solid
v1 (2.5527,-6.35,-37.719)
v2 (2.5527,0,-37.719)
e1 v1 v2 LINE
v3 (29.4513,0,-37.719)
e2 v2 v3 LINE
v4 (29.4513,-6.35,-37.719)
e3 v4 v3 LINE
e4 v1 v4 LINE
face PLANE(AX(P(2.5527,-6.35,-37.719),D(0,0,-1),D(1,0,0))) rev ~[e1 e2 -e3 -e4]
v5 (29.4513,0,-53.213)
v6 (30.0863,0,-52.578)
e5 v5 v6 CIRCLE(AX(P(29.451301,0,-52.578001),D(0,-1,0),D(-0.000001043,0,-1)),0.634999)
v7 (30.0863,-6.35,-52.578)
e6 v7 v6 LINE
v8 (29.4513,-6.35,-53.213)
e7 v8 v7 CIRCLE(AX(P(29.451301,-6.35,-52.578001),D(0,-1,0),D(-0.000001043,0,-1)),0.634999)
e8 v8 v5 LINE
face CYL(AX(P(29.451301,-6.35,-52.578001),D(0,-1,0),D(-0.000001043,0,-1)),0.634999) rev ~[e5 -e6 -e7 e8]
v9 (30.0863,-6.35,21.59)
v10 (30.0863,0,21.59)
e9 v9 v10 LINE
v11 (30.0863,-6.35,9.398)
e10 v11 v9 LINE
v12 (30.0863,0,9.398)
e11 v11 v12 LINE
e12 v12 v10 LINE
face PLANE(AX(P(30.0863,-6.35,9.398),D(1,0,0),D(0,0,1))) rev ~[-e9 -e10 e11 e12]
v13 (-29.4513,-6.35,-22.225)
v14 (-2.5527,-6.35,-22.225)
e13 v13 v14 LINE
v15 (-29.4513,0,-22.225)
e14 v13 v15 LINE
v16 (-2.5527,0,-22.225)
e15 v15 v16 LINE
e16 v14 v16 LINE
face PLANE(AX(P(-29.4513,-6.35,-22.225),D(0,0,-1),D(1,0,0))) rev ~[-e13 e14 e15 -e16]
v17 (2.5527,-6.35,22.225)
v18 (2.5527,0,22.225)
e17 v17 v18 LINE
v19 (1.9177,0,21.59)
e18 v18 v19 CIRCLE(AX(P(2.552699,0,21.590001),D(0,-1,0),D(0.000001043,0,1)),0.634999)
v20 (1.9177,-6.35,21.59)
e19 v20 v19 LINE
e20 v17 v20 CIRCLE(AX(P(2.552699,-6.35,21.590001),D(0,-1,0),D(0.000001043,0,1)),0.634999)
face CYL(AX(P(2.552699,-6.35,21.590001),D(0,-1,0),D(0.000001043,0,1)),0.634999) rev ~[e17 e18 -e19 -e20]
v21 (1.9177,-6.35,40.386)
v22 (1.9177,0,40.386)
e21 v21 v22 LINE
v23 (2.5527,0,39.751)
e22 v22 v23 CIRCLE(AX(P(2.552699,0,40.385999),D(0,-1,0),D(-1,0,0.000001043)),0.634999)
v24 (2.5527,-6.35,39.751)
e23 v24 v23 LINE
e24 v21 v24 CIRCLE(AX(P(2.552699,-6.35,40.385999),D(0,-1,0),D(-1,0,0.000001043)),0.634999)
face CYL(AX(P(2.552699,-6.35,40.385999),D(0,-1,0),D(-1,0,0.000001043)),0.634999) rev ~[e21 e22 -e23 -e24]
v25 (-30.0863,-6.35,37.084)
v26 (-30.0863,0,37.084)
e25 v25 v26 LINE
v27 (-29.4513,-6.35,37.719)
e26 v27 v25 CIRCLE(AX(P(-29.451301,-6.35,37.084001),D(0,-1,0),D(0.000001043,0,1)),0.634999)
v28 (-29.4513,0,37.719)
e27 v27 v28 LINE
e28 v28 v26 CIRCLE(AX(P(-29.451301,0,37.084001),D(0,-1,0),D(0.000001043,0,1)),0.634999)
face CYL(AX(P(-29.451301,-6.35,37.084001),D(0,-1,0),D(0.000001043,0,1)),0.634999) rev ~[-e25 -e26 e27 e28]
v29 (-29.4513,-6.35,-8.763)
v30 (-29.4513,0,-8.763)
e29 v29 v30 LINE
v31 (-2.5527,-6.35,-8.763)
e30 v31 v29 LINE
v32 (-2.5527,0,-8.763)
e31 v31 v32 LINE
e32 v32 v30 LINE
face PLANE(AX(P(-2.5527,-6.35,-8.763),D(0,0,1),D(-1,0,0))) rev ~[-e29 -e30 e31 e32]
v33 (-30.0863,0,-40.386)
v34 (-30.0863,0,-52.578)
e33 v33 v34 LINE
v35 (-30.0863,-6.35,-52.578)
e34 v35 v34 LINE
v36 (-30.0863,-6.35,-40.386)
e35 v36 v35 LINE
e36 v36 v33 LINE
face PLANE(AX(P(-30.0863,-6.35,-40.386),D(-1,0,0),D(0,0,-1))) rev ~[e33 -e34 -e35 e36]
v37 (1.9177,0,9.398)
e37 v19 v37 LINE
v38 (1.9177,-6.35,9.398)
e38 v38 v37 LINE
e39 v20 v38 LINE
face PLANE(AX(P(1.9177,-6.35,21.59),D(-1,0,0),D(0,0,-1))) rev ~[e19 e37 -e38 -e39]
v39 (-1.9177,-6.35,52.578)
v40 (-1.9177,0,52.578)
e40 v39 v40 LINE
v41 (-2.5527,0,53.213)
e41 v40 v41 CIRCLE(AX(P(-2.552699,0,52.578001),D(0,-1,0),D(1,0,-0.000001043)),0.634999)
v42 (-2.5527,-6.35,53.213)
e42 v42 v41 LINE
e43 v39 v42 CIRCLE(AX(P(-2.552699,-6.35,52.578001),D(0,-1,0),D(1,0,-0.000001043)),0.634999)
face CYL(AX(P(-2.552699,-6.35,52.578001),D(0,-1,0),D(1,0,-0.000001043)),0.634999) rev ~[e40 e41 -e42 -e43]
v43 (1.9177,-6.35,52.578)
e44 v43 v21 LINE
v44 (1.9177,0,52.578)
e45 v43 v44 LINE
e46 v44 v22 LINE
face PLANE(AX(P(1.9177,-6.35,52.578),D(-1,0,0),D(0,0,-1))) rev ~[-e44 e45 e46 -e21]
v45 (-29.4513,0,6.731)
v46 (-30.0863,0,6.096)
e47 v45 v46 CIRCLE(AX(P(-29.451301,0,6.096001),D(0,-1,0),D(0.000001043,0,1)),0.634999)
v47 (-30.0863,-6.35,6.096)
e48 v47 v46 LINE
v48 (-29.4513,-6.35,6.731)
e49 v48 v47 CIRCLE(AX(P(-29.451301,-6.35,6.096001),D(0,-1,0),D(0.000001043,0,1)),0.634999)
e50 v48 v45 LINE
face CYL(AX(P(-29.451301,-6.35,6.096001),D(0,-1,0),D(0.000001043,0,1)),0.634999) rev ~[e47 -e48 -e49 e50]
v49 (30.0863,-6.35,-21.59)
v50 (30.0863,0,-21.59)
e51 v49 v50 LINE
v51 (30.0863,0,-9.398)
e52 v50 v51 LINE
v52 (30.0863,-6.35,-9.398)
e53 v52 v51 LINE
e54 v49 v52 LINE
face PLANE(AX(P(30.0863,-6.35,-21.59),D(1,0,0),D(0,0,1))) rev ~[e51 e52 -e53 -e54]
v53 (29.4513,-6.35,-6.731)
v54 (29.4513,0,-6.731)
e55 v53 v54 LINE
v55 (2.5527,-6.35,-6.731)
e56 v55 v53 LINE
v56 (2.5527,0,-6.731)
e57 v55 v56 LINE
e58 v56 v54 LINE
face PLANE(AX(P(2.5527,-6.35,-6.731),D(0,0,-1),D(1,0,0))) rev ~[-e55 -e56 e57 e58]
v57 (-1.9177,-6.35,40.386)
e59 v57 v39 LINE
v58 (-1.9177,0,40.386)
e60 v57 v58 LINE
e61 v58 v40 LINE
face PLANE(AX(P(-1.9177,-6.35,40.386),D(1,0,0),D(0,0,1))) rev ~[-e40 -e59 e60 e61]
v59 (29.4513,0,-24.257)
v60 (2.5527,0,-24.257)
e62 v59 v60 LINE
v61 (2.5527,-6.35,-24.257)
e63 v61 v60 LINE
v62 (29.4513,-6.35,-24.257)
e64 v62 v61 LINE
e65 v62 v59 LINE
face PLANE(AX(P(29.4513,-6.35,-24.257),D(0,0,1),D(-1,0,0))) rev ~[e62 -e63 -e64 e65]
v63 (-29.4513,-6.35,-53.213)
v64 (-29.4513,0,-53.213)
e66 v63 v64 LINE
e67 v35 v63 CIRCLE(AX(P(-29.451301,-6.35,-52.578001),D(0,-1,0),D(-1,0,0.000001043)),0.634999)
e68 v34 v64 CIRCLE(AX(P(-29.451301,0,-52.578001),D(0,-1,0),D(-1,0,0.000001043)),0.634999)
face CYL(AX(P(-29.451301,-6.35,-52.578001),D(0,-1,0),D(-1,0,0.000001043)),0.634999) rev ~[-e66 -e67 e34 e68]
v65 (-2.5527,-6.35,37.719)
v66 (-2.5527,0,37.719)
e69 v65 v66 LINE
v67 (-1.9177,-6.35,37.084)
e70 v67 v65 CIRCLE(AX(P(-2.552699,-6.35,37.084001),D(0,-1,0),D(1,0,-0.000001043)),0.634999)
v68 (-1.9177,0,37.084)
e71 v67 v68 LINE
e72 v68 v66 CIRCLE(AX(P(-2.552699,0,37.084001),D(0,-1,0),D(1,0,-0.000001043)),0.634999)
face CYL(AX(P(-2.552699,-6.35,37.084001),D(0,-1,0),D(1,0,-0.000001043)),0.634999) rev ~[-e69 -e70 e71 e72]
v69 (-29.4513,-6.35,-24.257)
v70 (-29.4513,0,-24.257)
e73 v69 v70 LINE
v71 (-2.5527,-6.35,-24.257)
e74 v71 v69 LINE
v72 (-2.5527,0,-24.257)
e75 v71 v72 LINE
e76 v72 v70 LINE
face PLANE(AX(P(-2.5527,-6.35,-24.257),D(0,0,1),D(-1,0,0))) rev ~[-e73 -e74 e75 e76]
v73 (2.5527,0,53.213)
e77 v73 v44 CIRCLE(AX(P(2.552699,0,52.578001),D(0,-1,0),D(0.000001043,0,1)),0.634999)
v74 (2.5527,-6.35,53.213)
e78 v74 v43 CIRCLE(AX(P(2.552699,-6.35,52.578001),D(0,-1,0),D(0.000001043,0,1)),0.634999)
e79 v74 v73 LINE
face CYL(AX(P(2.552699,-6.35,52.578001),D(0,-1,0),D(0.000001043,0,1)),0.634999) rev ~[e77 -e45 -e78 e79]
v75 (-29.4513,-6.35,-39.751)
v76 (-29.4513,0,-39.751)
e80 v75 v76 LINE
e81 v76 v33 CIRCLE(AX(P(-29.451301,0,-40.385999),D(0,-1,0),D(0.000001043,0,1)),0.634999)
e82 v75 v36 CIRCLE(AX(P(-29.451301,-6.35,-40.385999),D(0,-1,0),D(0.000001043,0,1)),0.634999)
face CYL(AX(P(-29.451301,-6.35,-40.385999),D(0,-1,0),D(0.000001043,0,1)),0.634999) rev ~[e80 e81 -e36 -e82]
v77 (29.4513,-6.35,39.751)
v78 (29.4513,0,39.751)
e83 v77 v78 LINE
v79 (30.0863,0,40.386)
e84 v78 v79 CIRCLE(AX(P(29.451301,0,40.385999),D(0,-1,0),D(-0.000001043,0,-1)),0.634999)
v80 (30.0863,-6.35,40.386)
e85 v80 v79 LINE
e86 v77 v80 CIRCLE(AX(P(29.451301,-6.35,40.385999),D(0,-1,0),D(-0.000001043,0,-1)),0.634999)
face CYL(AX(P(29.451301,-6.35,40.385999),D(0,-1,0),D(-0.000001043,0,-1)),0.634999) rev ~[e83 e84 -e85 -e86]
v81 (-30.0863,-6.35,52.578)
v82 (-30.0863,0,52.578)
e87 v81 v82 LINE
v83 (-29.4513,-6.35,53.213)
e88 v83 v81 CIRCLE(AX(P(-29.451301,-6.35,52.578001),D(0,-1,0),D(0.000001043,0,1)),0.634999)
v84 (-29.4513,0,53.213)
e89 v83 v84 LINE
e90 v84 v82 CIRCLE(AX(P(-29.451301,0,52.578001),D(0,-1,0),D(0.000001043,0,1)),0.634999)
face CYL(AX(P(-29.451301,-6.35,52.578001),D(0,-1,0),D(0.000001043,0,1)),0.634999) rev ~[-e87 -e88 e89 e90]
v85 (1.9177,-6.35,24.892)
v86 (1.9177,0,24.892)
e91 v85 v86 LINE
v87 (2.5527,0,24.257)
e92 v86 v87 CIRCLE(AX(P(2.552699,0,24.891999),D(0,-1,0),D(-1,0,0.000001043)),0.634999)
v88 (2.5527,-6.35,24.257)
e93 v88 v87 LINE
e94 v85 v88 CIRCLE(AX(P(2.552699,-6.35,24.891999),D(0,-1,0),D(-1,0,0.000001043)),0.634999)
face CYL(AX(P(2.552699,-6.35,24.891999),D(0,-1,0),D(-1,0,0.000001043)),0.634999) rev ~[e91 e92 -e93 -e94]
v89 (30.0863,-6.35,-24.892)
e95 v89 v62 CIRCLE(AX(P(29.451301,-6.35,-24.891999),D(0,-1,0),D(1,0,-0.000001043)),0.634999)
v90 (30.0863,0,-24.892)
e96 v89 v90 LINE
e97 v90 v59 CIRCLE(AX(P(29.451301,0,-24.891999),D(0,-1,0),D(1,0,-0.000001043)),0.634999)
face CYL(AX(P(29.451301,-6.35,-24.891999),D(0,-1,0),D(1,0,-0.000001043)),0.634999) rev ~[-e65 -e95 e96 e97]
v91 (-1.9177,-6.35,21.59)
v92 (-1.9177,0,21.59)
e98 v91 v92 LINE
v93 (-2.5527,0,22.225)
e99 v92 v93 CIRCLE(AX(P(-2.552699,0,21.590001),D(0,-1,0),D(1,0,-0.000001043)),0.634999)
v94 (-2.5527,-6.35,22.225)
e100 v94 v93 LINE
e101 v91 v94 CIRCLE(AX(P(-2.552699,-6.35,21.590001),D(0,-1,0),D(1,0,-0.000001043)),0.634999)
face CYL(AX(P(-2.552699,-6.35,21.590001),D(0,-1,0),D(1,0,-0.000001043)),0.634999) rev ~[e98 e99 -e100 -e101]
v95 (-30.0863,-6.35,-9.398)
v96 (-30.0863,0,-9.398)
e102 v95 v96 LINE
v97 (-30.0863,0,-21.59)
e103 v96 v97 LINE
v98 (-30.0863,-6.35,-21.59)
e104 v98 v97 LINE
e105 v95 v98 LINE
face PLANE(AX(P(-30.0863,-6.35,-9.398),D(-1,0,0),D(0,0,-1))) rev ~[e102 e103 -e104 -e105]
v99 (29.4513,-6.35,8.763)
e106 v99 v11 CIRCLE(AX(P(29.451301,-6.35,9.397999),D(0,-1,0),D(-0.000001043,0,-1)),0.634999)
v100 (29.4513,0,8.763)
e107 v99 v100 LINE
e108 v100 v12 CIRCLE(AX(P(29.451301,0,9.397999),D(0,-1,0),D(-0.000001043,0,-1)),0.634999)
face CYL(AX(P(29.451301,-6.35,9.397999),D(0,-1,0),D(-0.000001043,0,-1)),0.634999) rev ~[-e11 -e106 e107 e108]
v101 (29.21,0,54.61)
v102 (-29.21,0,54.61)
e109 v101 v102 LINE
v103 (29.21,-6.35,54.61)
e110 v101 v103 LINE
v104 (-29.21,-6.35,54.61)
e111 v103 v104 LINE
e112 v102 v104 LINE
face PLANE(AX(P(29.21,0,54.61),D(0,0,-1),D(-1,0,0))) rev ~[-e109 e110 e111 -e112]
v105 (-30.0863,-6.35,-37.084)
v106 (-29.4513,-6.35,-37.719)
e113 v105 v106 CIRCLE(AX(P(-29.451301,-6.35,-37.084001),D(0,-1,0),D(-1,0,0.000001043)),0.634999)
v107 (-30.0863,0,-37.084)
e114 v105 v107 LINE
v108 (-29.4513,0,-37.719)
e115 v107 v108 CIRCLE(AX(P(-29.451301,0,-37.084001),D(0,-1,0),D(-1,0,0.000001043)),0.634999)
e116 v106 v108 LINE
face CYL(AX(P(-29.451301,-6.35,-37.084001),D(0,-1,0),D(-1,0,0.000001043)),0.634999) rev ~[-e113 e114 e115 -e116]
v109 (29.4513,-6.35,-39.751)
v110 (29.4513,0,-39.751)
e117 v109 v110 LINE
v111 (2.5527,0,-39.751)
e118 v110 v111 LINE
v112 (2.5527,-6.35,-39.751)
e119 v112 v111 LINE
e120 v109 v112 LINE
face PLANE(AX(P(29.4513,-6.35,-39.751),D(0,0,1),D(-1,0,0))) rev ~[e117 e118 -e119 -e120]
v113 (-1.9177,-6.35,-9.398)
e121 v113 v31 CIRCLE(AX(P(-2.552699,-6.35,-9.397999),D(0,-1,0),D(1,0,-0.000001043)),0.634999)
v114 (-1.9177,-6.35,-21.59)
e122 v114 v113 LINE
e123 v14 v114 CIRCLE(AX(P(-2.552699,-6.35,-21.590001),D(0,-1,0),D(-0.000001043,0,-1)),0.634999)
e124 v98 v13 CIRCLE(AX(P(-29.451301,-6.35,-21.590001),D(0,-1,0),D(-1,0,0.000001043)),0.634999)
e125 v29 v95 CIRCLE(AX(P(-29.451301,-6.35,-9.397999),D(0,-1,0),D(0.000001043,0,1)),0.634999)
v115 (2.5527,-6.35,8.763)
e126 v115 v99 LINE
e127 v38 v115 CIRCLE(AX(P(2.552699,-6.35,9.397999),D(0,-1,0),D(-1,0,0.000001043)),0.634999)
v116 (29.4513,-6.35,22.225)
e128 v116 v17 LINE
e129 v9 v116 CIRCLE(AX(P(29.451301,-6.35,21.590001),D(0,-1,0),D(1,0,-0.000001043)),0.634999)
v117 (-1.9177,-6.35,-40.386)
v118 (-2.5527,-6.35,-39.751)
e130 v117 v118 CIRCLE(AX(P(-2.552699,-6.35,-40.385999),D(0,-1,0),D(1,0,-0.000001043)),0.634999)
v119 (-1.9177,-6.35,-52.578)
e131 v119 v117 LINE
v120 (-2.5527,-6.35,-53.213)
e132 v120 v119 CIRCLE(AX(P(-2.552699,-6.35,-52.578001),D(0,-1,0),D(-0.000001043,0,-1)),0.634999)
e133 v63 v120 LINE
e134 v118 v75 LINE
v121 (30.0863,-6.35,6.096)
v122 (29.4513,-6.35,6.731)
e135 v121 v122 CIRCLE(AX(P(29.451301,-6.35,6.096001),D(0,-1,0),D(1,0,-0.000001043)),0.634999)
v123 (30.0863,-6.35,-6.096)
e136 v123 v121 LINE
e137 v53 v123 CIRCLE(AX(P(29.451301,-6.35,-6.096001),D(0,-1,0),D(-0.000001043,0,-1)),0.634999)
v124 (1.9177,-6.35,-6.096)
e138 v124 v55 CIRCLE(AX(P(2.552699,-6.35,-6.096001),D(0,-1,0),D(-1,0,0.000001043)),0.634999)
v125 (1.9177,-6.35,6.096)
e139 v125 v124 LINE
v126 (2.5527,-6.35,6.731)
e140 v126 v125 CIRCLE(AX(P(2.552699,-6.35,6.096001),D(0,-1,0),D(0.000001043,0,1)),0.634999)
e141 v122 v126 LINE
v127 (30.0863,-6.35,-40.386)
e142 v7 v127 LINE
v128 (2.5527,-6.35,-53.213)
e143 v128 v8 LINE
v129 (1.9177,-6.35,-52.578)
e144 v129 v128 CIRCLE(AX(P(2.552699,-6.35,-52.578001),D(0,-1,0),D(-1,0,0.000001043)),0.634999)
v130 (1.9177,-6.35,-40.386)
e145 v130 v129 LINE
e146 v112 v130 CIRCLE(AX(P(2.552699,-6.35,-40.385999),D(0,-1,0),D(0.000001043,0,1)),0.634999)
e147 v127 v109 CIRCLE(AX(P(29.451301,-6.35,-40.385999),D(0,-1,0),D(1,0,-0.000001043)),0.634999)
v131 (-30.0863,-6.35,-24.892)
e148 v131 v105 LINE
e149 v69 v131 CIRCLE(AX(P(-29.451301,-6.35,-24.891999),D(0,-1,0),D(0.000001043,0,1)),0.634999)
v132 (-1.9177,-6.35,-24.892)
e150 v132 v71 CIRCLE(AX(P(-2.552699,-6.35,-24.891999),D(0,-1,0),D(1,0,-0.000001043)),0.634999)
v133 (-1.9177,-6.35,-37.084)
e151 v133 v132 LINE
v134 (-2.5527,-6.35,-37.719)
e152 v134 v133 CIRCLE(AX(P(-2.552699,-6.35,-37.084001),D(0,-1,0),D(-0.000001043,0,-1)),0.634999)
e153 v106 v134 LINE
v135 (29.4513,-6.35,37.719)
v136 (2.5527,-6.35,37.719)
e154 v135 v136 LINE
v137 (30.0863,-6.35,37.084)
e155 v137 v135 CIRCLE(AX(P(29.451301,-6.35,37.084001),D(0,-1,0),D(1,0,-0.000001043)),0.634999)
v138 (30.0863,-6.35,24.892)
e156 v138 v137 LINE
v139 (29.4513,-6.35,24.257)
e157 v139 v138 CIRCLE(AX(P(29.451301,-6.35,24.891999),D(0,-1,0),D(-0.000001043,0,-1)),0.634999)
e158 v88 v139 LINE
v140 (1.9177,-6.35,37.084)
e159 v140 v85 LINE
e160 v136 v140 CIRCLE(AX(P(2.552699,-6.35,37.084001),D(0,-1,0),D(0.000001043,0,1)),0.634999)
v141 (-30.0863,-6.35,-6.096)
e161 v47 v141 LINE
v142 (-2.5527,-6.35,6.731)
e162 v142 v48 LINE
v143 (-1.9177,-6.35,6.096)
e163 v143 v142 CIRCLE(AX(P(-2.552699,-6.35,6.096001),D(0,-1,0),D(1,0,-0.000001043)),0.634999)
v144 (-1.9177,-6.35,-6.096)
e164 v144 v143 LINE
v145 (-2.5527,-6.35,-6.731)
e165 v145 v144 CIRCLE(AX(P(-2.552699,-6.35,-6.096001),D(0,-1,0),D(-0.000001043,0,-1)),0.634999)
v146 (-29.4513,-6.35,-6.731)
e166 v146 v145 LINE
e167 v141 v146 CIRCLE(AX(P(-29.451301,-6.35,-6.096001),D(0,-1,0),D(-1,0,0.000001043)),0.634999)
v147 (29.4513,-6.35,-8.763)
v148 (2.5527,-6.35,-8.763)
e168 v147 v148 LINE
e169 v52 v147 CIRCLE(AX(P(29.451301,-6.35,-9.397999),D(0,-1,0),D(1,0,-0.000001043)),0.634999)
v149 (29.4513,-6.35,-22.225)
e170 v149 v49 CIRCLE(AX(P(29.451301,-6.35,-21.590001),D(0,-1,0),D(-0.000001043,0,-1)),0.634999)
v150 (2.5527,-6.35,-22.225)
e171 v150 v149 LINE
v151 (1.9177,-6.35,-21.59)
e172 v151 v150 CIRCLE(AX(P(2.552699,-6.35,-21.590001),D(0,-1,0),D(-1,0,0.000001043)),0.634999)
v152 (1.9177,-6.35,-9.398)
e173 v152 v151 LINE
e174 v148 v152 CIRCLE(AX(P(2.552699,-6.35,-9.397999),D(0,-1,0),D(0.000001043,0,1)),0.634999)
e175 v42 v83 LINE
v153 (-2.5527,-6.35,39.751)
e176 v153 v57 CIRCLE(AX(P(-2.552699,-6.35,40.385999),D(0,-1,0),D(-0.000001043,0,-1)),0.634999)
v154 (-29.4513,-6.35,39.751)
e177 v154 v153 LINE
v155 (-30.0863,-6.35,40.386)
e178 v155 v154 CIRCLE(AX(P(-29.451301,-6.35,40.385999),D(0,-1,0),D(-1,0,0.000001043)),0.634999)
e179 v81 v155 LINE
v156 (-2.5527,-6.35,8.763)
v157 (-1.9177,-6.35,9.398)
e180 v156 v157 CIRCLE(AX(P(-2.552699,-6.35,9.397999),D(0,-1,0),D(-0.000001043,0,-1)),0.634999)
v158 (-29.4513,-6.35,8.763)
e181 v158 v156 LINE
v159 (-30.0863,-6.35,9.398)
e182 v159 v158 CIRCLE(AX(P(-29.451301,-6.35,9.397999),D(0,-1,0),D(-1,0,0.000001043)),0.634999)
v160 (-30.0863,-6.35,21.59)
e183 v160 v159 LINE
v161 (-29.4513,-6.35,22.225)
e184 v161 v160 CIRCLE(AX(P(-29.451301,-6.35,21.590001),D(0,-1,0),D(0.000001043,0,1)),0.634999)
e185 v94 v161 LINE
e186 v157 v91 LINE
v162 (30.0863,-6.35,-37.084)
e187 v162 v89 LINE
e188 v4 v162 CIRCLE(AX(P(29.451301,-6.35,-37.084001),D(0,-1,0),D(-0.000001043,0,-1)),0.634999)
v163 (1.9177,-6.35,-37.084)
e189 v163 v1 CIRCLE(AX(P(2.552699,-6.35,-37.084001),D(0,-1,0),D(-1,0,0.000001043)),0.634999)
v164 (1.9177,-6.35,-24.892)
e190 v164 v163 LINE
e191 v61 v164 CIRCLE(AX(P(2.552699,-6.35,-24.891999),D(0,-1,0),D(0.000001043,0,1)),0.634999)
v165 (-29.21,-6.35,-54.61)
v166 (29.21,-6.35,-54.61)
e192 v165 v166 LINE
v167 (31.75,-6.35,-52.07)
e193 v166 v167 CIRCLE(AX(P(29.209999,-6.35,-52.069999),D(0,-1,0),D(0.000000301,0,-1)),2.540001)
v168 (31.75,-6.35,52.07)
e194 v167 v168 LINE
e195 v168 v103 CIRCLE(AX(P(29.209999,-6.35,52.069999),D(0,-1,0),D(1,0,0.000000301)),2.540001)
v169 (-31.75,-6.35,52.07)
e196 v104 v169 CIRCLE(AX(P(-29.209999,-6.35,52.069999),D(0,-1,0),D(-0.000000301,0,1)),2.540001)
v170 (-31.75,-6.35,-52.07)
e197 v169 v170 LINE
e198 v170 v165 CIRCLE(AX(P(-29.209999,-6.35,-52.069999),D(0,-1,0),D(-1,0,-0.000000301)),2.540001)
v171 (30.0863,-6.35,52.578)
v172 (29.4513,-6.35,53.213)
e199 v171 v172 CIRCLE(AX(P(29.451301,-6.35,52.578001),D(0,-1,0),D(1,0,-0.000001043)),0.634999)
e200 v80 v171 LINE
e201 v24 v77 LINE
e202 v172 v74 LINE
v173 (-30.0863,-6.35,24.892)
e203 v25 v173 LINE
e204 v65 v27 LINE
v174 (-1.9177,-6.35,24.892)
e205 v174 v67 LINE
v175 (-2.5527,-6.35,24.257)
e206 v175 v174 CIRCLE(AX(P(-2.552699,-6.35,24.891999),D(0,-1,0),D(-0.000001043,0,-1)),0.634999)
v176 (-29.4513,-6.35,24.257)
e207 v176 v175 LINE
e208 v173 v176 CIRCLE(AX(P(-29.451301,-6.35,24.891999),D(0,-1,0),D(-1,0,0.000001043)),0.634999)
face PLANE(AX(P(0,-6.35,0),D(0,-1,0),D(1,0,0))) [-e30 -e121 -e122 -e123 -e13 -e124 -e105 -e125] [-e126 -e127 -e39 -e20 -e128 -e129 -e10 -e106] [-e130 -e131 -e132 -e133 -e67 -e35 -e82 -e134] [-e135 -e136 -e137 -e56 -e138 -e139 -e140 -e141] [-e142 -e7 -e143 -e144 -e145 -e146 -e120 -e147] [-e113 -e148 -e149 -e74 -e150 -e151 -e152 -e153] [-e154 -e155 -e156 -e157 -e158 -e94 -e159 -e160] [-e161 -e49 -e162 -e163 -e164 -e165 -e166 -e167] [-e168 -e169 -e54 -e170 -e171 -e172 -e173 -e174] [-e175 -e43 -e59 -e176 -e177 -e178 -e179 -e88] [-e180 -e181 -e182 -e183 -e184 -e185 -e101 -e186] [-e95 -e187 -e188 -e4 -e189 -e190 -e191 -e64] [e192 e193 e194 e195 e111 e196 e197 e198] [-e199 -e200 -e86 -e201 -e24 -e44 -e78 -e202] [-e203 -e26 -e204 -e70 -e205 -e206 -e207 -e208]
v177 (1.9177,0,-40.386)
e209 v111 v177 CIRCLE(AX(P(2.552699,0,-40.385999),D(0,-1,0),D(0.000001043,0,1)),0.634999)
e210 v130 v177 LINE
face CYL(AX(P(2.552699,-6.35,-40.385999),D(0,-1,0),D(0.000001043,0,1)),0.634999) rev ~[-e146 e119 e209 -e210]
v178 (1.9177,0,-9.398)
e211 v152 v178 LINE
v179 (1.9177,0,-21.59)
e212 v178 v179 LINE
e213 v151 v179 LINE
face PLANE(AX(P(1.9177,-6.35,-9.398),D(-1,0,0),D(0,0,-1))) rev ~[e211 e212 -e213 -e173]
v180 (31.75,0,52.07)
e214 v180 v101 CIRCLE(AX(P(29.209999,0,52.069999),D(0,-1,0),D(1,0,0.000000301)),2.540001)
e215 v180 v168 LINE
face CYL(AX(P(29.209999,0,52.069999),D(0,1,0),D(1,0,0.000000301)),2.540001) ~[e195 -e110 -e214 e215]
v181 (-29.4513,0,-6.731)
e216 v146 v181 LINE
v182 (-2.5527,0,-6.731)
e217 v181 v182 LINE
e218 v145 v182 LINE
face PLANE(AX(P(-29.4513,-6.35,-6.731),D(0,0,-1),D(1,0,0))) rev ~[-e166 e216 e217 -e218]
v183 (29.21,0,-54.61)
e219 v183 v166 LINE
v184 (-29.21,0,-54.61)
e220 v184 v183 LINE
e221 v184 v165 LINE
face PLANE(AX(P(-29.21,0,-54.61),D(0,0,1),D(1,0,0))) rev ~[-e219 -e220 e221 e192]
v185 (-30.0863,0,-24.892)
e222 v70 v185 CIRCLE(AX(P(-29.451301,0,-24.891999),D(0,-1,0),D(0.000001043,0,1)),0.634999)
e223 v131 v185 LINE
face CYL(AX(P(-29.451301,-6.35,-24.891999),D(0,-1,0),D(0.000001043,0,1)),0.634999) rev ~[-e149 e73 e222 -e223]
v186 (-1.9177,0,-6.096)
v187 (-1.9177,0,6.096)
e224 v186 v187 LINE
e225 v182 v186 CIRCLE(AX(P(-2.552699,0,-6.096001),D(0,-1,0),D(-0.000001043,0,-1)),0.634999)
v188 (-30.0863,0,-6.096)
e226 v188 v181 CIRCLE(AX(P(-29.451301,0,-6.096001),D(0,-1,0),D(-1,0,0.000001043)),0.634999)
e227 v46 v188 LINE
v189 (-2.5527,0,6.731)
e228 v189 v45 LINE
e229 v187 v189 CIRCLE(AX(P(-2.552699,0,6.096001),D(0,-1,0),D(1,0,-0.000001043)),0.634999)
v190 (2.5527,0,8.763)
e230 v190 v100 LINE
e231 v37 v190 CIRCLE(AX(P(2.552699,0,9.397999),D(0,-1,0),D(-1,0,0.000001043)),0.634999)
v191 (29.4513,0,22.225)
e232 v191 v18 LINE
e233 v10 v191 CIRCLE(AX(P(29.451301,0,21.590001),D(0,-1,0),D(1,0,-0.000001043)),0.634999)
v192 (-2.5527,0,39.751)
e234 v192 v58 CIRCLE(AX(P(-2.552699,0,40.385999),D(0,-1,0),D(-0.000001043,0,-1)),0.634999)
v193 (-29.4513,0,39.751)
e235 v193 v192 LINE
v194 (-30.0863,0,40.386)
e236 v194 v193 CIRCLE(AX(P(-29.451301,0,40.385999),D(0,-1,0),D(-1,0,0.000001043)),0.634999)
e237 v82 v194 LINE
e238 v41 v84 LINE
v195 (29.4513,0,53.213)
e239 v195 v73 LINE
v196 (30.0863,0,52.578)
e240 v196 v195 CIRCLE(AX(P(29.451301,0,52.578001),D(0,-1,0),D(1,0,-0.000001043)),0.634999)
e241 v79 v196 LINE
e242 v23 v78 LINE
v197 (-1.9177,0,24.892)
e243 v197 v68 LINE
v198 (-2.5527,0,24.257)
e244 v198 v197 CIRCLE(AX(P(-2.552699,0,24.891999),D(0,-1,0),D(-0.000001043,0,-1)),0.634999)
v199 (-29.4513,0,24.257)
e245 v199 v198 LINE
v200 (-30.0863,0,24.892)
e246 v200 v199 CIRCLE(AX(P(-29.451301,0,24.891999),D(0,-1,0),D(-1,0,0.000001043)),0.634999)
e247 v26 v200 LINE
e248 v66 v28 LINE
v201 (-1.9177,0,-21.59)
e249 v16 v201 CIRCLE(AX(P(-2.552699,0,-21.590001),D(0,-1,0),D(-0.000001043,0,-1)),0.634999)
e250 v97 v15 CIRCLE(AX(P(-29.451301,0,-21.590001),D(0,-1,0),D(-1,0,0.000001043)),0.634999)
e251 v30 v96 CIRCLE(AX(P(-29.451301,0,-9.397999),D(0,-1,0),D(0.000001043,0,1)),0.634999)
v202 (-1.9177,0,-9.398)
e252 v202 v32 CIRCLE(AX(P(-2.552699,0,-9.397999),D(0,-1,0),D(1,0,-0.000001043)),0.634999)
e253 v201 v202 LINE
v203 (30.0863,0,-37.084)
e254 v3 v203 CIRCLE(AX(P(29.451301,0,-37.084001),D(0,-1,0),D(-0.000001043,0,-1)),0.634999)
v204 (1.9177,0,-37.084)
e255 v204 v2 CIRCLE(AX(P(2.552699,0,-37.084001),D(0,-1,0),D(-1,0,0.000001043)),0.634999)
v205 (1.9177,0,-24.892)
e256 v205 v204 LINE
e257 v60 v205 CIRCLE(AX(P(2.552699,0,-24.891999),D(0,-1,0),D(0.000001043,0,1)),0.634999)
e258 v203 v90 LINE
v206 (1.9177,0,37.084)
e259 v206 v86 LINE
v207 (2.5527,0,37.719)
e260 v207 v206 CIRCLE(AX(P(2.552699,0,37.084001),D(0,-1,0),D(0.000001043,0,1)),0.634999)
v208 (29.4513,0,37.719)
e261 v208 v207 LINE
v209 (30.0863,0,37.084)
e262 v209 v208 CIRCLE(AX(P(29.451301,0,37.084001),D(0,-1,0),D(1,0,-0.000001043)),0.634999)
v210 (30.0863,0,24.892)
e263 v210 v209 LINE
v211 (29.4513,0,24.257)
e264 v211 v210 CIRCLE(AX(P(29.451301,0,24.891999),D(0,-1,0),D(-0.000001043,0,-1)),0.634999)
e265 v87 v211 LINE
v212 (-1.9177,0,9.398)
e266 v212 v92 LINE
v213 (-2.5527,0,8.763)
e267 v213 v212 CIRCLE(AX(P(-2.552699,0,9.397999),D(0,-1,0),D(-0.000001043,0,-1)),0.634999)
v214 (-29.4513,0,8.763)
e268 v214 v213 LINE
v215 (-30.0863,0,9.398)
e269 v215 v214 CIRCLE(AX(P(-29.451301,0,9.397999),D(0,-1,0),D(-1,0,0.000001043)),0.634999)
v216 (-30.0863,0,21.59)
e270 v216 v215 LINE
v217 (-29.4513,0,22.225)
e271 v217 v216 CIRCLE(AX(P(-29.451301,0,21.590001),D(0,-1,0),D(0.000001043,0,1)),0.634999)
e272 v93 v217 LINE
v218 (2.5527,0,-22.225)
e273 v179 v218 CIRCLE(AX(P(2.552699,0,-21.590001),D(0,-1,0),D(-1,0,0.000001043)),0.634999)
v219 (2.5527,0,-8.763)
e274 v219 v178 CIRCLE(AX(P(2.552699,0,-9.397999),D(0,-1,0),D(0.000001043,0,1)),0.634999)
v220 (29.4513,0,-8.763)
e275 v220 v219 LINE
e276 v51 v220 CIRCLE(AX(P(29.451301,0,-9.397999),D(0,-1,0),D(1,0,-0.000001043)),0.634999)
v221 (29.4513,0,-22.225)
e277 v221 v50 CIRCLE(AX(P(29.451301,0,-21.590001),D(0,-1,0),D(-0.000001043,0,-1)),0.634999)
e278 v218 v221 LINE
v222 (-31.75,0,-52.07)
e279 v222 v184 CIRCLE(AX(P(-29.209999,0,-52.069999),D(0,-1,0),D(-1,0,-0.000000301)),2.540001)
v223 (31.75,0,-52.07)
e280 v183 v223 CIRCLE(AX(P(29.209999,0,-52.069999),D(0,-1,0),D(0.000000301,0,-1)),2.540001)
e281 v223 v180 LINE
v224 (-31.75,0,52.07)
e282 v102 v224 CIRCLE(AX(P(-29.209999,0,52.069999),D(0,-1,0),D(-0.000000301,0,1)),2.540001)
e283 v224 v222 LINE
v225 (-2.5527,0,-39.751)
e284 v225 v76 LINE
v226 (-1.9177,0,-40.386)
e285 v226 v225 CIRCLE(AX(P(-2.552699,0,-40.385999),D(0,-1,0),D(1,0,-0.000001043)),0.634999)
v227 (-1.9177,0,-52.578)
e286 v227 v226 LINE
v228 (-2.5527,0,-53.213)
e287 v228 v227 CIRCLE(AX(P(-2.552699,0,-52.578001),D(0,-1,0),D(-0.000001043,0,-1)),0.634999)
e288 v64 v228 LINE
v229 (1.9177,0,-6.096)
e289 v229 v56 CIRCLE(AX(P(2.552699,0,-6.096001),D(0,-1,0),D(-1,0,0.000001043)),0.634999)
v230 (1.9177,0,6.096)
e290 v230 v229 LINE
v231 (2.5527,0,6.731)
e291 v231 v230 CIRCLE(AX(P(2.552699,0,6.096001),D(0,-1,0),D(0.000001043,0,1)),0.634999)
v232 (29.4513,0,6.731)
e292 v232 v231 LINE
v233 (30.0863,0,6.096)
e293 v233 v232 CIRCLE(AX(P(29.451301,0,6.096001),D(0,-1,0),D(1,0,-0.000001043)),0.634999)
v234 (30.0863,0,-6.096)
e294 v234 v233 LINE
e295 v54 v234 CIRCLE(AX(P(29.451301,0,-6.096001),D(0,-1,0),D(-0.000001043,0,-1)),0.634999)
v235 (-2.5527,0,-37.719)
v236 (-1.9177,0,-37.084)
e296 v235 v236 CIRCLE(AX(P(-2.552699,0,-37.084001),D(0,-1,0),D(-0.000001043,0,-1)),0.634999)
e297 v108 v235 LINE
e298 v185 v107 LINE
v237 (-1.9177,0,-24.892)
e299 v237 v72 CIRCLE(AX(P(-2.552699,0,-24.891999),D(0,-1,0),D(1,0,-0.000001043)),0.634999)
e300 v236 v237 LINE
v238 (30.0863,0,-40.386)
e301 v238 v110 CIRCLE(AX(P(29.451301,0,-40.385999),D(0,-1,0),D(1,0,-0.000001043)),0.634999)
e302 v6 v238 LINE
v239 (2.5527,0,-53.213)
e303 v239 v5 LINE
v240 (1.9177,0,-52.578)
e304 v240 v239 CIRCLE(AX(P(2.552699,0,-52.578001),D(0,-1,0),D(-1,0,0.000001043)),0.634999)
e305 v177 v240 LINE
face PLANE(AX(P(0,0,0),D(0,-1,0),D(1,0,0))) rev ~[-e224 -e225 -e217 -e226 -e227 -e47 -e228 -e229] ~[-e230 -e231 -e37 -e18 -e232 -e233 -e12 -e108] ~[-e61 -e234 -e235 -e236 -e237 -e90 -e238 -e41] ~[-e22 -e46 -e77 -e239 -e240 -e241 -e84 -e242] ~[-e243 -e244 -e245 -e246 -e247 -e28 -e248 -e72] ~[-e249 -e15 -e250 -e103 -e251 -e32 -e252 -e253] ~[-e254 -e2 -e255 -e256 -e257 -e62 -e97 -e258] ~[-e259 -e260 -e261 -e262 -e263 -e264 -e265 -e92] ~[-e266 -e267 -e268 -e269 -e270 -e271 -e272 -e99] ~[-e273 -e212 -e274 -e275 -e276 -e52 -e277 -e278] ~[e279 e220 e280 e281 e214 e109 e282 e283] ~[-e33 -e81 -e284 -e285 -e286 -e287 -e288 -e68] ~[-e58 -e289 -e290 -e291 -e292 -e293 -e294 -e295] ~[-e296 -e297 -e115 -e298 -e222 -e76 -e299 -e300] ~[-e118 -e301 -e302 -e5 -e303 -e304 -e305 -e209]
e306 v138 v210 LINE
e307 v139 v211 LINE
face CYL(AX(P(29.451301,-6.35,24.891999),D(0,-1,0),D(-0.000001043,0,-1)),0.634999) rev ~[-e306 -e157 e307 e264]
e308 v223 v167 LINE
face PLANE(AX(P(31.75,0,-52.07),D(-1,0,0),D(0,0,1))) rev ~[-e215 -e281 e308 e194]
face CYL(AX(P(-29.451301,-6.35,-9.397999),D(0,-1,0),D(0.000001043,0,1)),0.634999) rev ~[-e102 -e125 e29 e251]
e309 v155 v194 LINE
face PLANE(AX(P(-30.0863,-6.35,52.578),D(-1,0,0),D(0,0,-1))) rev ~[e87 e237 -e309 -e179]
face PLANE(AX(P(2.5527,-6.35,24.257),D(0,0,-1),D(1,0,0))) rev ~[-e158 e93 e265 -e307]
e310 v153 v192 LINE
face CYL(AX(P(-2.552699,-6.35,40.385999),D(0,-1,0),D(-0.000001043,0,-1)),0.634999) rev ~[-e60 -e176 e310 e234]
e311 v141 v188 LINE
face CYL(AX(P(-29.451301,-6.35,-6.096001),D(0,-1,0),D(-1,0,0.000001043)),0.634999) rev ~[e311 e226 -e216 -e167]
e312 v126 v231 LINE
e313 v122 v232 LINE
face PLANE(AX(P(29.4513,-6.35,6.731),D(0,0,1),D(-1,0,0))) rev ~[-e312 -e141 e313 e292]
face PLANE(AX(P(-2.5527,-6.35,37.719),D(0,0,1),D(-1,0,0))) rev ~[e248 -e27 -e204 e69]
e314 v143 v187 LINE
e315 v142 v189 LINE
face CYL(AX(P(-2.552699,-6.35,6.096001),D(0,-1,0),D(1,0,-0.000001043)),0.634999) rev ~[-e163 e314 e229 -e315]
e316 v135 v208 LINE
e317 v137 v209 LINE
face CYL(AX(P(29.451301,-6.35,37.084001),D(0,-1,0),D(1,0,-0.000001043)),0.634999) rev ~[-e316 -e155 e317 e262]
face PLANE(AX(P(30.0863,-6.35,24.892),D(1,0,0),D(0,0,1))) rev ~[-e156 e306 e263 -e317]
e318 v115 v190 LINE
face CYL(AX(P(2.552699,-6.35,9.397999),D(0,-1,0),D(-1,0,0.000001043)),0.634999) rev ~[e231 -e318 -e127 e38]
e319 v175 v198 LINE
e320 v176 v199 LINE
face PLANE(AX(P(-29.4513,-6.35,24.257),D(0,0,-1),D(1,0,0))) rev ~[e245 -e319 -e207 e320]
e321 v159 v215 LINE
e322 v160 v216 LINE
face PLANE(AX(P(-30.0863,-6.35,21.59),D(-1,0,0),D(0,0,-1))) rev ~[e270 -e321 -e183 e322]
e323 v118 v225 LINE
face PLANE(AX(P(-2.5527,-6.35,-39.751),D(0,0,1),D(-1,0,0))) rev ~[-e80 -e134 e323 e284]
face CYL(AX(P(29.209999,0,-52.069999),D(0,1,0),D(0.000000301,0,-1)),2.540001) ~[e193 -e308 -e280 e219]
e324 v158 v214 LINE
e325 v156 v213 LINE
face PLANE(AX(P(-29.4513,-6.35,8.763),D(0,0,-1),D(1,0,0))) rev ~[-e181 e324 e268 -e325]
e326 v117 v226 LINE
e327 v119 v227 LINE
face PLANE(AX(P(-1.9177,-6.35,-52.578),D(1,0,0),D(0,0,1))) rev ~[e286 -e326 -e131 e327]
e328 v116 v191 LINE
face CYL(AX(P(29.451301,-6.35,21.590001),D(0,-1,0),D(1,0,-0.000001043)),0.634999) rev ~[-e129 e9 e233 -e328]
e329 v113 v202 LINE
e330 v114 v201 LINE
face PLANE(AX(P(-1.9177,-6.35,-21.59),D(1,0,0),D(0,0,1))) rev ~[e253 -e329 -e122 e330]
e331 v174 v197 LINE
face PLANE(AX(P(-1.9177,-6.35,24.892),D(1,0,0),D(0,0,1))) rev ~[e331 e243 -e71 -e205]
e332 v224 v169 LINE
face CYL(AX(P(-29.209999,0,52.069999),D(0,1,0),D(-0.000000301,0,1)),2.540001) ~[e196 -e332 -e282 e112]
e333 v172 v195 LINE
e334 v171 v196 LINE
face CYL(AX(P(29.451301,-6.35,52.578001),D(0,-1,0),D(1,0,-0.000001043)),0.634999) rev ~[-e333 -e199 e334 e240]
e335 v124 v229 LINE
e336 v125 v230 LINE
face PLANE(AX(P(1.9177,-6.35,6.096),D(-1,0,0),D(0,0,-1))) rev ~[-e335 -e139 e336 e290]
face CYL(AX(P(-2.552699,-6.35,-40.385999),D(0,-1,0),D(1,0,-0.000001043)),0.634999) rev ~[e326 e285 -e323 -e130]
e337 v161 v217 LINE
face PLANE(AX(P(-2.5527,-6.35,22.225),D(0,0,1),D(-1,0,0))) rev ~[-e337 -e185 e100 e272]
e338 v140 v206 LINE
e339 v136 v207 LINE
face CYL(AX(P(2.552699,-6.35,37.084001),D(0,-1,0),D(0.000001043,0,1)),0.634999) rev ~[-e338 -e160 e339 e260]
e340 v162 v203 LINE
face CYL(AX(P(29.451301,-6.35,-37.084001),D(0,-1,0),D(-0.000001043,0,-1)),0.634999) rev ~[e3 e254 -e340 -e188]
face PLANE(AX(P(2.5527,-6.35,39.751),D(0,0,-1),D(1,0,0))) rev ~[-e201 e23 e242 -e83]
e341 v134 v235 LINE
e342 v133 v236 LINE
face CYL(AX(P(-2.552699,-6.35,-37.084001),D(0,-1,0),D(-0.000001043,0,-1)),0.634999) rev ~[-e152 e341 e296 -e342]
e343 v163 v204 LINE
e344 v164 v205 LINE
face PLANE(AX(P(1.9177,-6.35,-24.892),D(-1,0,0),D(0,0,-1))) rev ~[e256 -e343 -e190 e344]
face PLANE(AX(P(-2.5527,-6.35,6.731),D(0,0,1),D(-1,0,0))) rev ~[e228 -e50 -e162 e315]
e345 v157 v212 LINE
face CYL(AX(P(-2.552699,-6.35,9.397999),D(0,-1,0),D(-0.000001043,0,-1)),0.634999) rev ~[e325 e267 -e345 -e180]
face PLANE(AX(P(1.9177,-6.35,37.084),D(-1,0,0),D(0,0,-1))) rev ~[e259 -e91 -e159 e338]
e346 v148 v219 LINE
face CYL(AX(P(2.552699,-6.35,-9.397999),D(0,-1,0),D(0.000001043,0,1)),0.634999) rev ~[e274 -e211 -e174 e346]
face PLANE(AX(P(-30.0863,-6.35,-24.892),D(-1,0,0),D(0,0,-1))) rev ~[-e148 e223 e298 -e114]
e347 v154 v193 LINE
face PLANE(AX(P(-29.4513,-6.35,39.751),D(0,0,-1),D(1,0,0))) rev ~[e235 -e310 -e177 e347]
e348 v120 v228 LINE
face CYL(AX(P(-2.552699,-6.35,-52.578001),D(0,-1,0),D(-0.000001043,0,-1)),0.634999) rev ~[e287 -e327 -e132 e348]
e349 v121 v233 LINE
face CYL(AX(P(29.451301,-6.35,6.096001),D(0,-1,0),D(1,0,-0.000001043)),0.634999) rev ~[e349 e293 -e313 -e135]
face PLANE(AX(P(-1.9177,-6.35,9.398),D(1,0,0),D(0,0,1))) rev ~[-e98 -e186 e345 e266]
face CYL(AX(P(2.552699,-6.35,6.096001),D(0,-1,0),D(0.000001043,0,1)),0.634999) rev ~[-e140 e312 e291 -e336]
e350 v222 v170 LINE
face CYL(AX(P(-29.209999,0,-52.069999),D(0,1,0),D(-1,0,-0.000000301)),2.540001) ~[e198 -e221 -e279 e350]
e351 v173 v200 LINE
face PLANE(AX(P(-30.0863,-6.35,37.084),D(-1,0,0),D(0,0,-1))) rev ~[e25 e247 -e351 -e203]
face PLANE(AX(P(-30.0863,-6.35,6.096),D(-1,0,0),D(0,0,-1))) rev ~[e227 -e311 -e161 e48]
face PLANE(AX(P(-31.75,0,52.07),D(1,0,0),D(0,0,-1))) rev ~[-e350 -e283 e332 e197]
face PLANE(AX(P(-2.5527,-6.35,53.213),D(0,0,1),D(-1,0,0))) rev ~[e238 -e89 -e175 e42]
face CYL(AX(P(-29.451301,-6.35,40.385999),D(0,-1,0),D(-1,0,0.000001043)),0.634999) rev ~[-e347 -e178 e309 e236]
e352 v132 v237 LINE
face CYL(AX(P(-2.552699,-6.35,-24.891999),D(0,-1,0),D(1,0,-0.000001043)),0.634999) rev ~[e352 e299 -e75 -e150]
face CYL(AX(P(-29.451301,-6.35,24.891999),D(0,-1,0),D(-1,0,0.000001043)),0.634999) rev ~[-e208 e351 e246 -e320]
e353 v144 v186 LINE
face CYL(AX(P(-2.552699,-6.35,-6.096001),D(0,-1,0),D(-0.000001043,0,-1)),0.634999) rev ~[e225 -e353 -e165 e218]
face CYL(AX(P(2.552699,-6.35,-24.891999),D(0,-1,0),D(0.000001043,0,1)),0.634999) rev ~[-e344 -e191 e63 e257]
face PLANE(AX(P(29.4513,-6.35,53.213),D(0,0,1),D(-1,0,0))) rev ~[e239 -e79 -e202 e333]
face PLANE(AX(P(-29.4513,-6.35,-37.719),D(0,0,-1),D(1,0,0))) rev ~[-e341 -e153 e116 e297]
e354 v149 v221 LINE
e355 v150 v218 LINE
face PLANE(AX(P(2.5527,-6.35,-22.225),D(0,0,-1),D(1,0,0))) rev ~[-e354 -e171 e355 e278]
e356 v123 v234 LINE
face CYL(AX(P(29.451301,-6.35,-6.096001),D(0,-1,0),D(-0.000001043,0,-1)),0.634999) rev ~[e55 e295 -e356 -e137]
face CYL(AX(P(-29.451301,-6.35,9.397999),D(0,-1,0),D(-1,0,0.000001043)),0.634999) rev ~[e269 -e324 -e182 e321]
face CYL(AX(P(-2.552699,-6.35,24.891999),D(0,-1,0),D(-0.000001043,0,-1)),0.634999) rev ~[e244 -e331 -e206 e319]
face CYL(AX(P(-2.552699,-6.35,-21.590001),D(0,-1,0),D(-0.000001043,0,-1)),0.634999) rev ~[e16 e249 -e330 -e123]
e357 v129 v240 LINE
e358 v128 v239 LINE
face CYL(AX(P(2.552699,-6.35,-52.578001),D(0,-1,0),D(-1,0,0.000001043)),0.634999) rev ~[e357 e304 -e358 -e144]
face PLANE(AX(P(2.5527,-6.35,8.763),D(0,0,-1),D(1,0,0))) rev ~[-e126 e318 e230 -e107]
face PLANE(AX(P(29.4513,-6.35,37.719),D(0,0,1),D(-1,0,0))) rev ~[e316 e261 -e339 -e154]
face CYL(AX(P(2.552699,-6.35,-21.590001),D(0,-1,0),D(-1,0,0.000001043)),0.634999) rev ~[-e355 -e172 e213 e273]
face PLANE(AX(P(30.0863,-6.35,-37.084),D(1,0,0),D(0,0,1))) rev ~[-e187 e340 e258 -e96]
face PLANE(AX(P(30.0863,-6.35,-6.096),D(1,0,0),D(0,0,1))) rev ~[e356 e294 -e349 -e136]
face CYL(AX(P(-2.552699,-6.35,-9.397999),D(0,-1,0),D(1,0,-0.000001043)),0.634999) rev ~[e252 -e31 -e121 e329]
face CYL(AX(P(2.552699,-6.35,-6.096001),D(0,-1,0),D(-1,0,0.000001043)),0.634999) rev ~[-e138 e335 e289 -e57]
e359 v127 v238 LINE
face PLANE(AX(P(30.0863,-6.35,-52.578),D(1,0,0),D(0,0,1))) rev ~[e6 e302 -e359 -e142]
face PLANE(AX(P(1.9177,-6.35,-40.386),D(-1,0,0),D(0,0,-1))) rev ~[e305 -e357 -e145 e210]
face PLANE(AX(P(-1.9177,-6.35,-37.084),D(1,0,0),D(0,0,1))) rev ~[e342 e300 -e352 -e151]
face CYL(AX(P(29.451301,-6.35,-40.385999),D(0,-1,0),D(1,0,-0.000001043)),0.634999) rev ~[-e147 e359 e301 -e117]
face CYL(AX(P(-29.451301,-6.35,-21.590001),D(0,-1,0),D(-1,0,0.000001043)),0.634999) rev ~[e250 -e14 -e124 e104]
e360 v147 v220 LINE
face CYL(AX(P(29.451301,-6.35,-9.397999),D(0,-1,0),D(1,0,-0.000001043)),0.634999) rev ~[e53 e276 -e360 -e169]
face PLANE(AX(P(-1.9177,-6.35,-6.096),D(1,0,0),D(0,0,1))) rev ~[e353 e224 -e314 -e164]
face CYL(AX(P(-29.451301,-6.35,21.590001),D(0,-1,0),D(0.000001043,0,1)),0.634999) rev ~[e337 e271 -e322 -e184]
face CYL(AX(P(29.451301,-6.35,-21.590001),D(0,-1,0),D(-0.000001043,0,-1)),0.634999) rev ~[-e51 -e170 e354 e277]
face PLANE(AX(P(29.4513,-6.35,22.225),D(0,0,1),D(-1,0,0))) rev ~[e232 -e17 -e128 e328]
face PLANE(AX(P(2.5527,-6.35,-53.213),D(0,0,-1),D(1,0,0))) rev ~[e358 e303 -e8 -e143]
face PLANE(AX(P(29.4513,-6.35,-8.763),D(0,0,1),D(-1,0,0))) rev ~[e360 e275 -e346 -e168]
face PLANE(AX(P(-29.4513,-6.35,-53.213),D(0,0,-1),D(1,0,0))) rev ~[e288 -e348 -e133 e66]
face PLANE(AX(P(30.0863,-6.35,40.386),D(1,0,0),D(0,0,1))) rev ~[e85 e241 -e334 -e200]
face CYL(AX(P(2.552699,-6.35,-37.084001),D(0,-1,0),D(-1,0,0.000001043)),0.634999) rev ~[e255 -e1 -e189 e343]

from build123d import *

# Parameters (mm, degrees)
F1_DEPTH = 6.35
F3_DEPTH = 6.351


with BuildPart() as f1:
    # F0 (on Front) → F1 (new body)
    with BuildSketch(Plane.XZ):
        with BuildLine():
            ThreePointArc((-31.75, -52.07), (-31.006051, -53.866051), (-29.21, -54.61))
            Line((-29.21, -54.61), (29.21, -54.61))
            ThreePointArc((29.21, -54.61), (31.006051, -53.866051), (31.75, -52.07))
            Line((31.75, -52.07), (31.75, 52.07))
            ThreePointArc((31.75, 52.07), (31.006051, 53.866051), (29.21, 54.61))
            Line((29.21, 54.61), (-29.21, 54.61))
            ThreePointArc((-29.21, 54.61), (-31.006051, 53.866051), (-31.75, 52.07))
            Line((-31.75, 52.07), (-31.75, -52.07))
        make_face()
    extrude(amount=F1_DEPTH)

    # F2 (on face) → F3 (cut, through all)
    with BuildSketch(Plane.XZ.offset(6.35)):
        with BuildLine():
            Line((-29.4513, 39.751), (-2.5527, 39.751))
            ThreePointArc((-2.5527, 39.751), (-2.103687, 39.936987), (-1.9177, 40.386))
            Line((-1.9177, 40.386), (-1.9177, 52.578))
            ThreePointArc((-1.9177, 52.578), (-2.103687, 53.027013), (-2.5527, 53.213))
            Line((-2.5527, 53.213), (-29.4513, 53.213))
            ThreePointArc((-29.4513, 53.213), (-29.900313, 53.027013), (-30.0863, 52.578))
            Line((-30.0863, 52.578), (-30.0863, 40.386))
            ThreePointArc((-30.0863, 40.386), (-29.900313, 39.936987), (-29.4513, 39.751))
        make_face()
        with BuildLine():
            Line((-30.0863, 37.084), (-30.0863, 24.892))
            ThreePointArc((-30.0863, 24.892), (-29.900313, 24.442987), (-29.4513, 24.257))
            Line((-29.4513, 24.257), (-2.5527, 24.257))
            ThreePointArc((-2.5527, 24.257), (-2.103687, 24.442987), (-1.9177, 24.892))
            Line((-1.9177, 24.892), (-1.9177, 37.084))
            ThreePointArc((-1.9177, 37.084), (-2.103687, 37.533013), (-2.5527, 37.719))
            Line((-2.5527, 37.719), (-29.4513, 37.719))
            ThreePointArc((-29.4513, 37.719), (-29.900313, 37.533013), (-30.0863, 37.084))
        make_face()
        with BuildLine():
            Line((-30.0863, 21.59), (-30.0863, 9.398))
            ThreePointArc((-30.0863, 9.398), (-29.900313, 8.948987), (-29.4513, 8.763))
            Line((-29.4513, 8.763), (-2.5527, 8.763))
            ThreePointArc((-2.5527, 8.763), (-2.103687, 8.948987), (-1.9177, 9.398))
            Line((-1.9177, 9.398), (-1.9177, 21.59))
            ThreePointArc((-1.9177, 21.59), (-2.103687, 22.039013), (-2.5527, 22.225))
            Line((-2.5527, 22.225), (-29.4513, 22.225))
            ThreePointArc((-29.4513, 22.225), (-29.900313, 22.039013), (-30.0863, 21.59))
        make_face()
        with BuildLine():
            Line((-30.0863, 6.096), (-30.0863, -6.096))
            ThreePointArc((-30.0863, -6.096), (-29.900313, -6.545013), (-29.4513, -6.731))
            Line((-29.4513, -6.731), (-2.5527, -6.731))
            ThreePointArc((-2.5527, -6.731), (-2.103687, -6.545013), (-1.9177, -6.096))
            Line((-1.9177, -6.096), (-1.9177, 6.096))
            ThreePointArc((-1.9177, 6.096), (-2.103687, 6.545013), (-2.5527, 6.731))
            Line((-2.5527, 6.731), (-29.4513, 6.731))
            ThreePointArc((-29.4513, 6.731), (-29.900313, 6.545013), (-30.0863, 6.096))
        make_face()
        with BuildLine():
            Line((-30.0863, -9.398), (-30.0863, -21.59))
            ThreePointArc((-30.0863, -21.59), (-29.900313, -22.039013), (-29.4513, -22.225))
            Line((-29.4513, -22.225), (-2.5527, -22.225))
            ThreePointArc((-2.5527, -22.225), (-2.103687, -22.039013), (-1.9177, -21.59))
            Line((-1.9177, -21.59), (-1.9177, -9.398))
            ThreePointArc((-1.9177, -9.398), (-2.103687, -8.948987), (-2.5527, -8.763))
            Line((-2.5527, -8.763), (-29.4513, -8.763))
            ThreePointArc((-29.4513, -8.763), (-29.900313, -8.948987), (-30.0863, -9.398))
        make_face()
        with BuildLine():
            Line((-30.0863, -24.892), (-30.0863, -37.084))
            ThreePointArc((-30.0863, -37.084), (-29.900313, -37.533013), (-29.4513, -37.719))
            Line((-29.4513, -37.719), (-2.5527, -37.719))
            ThreePointArc((-2.5527, -37.719), (-2.103687, -37.533013), (-1.9177, -37.084))
            Line((-1.9177, -37.084), (-1.9177, -24.892))
            ThreePointArc((-1.9177, -24.892), (-2.103687, -24.442987), (-2.5527, -24.257))
            Line((-2.5527, -24.257), (-29.4513, -24.257))
            ThreePointArc((-29.4513, -24.257), (-29.900313, -24.442987), (-30.0863, -24.892))
        make_face()
        with BuildLine():
            Line((-30.0863, -40.386), (-30.0863, -52.578))
            ThreePointArc((-30.0863, -52.578), (-29.900313, -53.027013), (-29.4513, -53.213))
            Line((-29.4513, -53.213), (-2.5527, -53.213))
            ThreePointArc((-2.5527, -53.213), (-2.103687, -53.027013), (-1.9177, -52.578))
            Line((-1.9177, -52.578), (-1.9177, -40.386))
            ThreePointArc((-1.9177, -40.386), (-2.103687, -39.936987), (-2.5527, -39.751))
            Line((-2.5527, -39.751), (-29.4513, -39.751))
            ThreePointArc((-29.4513, -39.751), (-29.900313, -39.936987), (-30.0863, -40.386))
        make_face()
        with BuildLine():
            Line((1.9177, 52.578), (1.9177, 40.386))
            ThreePointArc((1.9177, 40.386), (2.103687, 39.936987), (2.5527, 39.751))
            Line((2.5527, 39.751), (29.4513, 39.751))
            ThreePointArc((29.4513, 39.751), (29.900313, 39.936987), (30.0863, 40.386))
            Line((30.0863, 40.386), (30.0863, 52.578))
            ThreePointArc((30.0863, 52.578), (29.900313, 53.027013), (29.4513, 53.213))
            Line((29.4513, 53.213), (2.5527, 53.213))
            ThreePointArc((2.5527, 53.213), (2.103687, 53.027013), (1.9177, 52.578))
        make_face()
        with BuildLine():
            Line((1.9177, 37.084), (1.9177, 24.892))
            ThreePointArc((1.9177, 24.892), (2.103687, 24.442987), (2.5527, 24.257))
            Line((2.5527, 24.257), (29.4513, 24.257))
            ThreePointArc((29.4513, 24.257), (29.900313, 24.442987), (30.0863, 24.892))
            Line((30.0863, 24.892), (30.0863, 37.084))
            ThreePointArc((30.0863, 37.084), (29.900313, 37.533013), (29.4513, 37.719))
            Line((29.4513, 37.719), (2.5527, 37.719))
            ThreePointArc((2.5527, 37.719), (2.103687, 37.533013), (1.9177, 37.084))
        make_face()
        with BuildLine():
            Line((1.9177, 21.59), (1.9177, 9.398))
            ThreePointArc((1.9177, 9.398), (2.103687, 8.948987), (2.5527, 8.763))
            Line((2.5527, 8.763), (29.4513, 8.763))
            ThreePointArc((29.4513, 8.763), (29.900313, 8.948987), (30.0863, 9.398))
            Line((30.0863, 9.398), (30.0863, 21.59))
            ThreePointArc((30.0863, 21.59), (29.900313, 22.039013), (29.4513, 22.225))
            Line((29.4513, 22.225), (2.5527, 22.225))
            ThreePointArc((2.5527, 22.225), (2.103687, 22.039013), (1.9177, 21.59))
        make_face()
        with BuildLine():
            Line((1.9177, 6.096), (1.9177, -6.096))
            ThreePointArc((1.9177, -6.096), (2.103687, -6.545013), (2.5527, -6.731))
            Line((2.5527, -6.731), (29.4513, -6.731))
            ThreePointArc((29.4513, -6.731), (29.900313, -6.545013), (30.0863, -6.096))
            Line((30.0863, -6.096), (30.0863, 6.096))
            ThreePointArc((30.0863, 6.096), (29.900313, 6.545013), (29.4513, 6.731))
            Line((29.4513, 6.731), (2.5527, 6.731))
            ThreePointArc((2.5527, 6.731), (2.103687, 6.545013), (1.9177, 6.096))
        make_face()
        with BuildLine():
            Line((1.9177, -9.398), (1.9177, -21.59))
            ThreePointArc((1.9177, -21.59), (2.103687, -22.039013), (2.5527, -22.225))
            Line((2.5527, -22.225), (29.4513, -22.225))
            ThreePointArc((29.4513, -22.225), (29.900313, -22.039013), (30.0863, -21.59))
            Line((30.0863, -21.59), (30.0863, -9.398))
            ThreePointArc((30.0863, -9.398), (29.900313, -8.948987), (29.4513, -8.763))
            Line((29.4513, -8.763), (2.5527, -8.763))
            ThreePointArc((2.5527, -8.763), (2.103687, -8.948987), (1.9177, -9.398))
        make_face()
        with BuildLine():
            Line((1.9177, -24.892), (1.9177, -37.084))
            ThreePointArc((1.9177, -37.084), (2.103687, -37.533013), (2.5527, -37.719))
            Line((2.5527, -37.719), (29.4513, -37.719))
            ThreePointArc((29.4513, -37.719), (29.900313, -37.533013), (30.0863, -37.084))
            Line((30.0863, -37.084), (30.0863, -24.892))
            ThreePointArc((30.0863, -24.892), (29.900313, -24.442987), (29.4513, -24.257))
            Line((29.4513, -24.257), (2.5527, -24.257))
            ThreePointArc((2.5527, -24.257), (2.103687, -24.442987), (1.9177, -24.892))
        make_face()
        with BuildLine():
            Line((1.9177, -40.386), (1.9177, -52.578))
            ThreePointArc((1.9177, -52.578), (2.103687, -53.027013), (2.5527, -53.213))
            Line((2.5527, -53.213), (29.4513, -53.213))
            ThreePointArc((29.4513, -53.213), (29.900313, -53.027013), (30.0863, -52.578))
            Line((30.0863, -52.578), (30.0863, -40.386))
            ThreePointArc((30.0863, -40.386), (29.900313, -39.936987), (29.4513, -39.751))
            Line((29.4513, -39.751), (2.5527, -39.751))
            ThreePointArc((2.5527, -39.751), (2.103687, -39.936987), (1.9177, -40.386))
        make_face()
    extrude(amount=-F3_DEPTH, mode=Mode.SUBTRACT)


solid = f1.part
